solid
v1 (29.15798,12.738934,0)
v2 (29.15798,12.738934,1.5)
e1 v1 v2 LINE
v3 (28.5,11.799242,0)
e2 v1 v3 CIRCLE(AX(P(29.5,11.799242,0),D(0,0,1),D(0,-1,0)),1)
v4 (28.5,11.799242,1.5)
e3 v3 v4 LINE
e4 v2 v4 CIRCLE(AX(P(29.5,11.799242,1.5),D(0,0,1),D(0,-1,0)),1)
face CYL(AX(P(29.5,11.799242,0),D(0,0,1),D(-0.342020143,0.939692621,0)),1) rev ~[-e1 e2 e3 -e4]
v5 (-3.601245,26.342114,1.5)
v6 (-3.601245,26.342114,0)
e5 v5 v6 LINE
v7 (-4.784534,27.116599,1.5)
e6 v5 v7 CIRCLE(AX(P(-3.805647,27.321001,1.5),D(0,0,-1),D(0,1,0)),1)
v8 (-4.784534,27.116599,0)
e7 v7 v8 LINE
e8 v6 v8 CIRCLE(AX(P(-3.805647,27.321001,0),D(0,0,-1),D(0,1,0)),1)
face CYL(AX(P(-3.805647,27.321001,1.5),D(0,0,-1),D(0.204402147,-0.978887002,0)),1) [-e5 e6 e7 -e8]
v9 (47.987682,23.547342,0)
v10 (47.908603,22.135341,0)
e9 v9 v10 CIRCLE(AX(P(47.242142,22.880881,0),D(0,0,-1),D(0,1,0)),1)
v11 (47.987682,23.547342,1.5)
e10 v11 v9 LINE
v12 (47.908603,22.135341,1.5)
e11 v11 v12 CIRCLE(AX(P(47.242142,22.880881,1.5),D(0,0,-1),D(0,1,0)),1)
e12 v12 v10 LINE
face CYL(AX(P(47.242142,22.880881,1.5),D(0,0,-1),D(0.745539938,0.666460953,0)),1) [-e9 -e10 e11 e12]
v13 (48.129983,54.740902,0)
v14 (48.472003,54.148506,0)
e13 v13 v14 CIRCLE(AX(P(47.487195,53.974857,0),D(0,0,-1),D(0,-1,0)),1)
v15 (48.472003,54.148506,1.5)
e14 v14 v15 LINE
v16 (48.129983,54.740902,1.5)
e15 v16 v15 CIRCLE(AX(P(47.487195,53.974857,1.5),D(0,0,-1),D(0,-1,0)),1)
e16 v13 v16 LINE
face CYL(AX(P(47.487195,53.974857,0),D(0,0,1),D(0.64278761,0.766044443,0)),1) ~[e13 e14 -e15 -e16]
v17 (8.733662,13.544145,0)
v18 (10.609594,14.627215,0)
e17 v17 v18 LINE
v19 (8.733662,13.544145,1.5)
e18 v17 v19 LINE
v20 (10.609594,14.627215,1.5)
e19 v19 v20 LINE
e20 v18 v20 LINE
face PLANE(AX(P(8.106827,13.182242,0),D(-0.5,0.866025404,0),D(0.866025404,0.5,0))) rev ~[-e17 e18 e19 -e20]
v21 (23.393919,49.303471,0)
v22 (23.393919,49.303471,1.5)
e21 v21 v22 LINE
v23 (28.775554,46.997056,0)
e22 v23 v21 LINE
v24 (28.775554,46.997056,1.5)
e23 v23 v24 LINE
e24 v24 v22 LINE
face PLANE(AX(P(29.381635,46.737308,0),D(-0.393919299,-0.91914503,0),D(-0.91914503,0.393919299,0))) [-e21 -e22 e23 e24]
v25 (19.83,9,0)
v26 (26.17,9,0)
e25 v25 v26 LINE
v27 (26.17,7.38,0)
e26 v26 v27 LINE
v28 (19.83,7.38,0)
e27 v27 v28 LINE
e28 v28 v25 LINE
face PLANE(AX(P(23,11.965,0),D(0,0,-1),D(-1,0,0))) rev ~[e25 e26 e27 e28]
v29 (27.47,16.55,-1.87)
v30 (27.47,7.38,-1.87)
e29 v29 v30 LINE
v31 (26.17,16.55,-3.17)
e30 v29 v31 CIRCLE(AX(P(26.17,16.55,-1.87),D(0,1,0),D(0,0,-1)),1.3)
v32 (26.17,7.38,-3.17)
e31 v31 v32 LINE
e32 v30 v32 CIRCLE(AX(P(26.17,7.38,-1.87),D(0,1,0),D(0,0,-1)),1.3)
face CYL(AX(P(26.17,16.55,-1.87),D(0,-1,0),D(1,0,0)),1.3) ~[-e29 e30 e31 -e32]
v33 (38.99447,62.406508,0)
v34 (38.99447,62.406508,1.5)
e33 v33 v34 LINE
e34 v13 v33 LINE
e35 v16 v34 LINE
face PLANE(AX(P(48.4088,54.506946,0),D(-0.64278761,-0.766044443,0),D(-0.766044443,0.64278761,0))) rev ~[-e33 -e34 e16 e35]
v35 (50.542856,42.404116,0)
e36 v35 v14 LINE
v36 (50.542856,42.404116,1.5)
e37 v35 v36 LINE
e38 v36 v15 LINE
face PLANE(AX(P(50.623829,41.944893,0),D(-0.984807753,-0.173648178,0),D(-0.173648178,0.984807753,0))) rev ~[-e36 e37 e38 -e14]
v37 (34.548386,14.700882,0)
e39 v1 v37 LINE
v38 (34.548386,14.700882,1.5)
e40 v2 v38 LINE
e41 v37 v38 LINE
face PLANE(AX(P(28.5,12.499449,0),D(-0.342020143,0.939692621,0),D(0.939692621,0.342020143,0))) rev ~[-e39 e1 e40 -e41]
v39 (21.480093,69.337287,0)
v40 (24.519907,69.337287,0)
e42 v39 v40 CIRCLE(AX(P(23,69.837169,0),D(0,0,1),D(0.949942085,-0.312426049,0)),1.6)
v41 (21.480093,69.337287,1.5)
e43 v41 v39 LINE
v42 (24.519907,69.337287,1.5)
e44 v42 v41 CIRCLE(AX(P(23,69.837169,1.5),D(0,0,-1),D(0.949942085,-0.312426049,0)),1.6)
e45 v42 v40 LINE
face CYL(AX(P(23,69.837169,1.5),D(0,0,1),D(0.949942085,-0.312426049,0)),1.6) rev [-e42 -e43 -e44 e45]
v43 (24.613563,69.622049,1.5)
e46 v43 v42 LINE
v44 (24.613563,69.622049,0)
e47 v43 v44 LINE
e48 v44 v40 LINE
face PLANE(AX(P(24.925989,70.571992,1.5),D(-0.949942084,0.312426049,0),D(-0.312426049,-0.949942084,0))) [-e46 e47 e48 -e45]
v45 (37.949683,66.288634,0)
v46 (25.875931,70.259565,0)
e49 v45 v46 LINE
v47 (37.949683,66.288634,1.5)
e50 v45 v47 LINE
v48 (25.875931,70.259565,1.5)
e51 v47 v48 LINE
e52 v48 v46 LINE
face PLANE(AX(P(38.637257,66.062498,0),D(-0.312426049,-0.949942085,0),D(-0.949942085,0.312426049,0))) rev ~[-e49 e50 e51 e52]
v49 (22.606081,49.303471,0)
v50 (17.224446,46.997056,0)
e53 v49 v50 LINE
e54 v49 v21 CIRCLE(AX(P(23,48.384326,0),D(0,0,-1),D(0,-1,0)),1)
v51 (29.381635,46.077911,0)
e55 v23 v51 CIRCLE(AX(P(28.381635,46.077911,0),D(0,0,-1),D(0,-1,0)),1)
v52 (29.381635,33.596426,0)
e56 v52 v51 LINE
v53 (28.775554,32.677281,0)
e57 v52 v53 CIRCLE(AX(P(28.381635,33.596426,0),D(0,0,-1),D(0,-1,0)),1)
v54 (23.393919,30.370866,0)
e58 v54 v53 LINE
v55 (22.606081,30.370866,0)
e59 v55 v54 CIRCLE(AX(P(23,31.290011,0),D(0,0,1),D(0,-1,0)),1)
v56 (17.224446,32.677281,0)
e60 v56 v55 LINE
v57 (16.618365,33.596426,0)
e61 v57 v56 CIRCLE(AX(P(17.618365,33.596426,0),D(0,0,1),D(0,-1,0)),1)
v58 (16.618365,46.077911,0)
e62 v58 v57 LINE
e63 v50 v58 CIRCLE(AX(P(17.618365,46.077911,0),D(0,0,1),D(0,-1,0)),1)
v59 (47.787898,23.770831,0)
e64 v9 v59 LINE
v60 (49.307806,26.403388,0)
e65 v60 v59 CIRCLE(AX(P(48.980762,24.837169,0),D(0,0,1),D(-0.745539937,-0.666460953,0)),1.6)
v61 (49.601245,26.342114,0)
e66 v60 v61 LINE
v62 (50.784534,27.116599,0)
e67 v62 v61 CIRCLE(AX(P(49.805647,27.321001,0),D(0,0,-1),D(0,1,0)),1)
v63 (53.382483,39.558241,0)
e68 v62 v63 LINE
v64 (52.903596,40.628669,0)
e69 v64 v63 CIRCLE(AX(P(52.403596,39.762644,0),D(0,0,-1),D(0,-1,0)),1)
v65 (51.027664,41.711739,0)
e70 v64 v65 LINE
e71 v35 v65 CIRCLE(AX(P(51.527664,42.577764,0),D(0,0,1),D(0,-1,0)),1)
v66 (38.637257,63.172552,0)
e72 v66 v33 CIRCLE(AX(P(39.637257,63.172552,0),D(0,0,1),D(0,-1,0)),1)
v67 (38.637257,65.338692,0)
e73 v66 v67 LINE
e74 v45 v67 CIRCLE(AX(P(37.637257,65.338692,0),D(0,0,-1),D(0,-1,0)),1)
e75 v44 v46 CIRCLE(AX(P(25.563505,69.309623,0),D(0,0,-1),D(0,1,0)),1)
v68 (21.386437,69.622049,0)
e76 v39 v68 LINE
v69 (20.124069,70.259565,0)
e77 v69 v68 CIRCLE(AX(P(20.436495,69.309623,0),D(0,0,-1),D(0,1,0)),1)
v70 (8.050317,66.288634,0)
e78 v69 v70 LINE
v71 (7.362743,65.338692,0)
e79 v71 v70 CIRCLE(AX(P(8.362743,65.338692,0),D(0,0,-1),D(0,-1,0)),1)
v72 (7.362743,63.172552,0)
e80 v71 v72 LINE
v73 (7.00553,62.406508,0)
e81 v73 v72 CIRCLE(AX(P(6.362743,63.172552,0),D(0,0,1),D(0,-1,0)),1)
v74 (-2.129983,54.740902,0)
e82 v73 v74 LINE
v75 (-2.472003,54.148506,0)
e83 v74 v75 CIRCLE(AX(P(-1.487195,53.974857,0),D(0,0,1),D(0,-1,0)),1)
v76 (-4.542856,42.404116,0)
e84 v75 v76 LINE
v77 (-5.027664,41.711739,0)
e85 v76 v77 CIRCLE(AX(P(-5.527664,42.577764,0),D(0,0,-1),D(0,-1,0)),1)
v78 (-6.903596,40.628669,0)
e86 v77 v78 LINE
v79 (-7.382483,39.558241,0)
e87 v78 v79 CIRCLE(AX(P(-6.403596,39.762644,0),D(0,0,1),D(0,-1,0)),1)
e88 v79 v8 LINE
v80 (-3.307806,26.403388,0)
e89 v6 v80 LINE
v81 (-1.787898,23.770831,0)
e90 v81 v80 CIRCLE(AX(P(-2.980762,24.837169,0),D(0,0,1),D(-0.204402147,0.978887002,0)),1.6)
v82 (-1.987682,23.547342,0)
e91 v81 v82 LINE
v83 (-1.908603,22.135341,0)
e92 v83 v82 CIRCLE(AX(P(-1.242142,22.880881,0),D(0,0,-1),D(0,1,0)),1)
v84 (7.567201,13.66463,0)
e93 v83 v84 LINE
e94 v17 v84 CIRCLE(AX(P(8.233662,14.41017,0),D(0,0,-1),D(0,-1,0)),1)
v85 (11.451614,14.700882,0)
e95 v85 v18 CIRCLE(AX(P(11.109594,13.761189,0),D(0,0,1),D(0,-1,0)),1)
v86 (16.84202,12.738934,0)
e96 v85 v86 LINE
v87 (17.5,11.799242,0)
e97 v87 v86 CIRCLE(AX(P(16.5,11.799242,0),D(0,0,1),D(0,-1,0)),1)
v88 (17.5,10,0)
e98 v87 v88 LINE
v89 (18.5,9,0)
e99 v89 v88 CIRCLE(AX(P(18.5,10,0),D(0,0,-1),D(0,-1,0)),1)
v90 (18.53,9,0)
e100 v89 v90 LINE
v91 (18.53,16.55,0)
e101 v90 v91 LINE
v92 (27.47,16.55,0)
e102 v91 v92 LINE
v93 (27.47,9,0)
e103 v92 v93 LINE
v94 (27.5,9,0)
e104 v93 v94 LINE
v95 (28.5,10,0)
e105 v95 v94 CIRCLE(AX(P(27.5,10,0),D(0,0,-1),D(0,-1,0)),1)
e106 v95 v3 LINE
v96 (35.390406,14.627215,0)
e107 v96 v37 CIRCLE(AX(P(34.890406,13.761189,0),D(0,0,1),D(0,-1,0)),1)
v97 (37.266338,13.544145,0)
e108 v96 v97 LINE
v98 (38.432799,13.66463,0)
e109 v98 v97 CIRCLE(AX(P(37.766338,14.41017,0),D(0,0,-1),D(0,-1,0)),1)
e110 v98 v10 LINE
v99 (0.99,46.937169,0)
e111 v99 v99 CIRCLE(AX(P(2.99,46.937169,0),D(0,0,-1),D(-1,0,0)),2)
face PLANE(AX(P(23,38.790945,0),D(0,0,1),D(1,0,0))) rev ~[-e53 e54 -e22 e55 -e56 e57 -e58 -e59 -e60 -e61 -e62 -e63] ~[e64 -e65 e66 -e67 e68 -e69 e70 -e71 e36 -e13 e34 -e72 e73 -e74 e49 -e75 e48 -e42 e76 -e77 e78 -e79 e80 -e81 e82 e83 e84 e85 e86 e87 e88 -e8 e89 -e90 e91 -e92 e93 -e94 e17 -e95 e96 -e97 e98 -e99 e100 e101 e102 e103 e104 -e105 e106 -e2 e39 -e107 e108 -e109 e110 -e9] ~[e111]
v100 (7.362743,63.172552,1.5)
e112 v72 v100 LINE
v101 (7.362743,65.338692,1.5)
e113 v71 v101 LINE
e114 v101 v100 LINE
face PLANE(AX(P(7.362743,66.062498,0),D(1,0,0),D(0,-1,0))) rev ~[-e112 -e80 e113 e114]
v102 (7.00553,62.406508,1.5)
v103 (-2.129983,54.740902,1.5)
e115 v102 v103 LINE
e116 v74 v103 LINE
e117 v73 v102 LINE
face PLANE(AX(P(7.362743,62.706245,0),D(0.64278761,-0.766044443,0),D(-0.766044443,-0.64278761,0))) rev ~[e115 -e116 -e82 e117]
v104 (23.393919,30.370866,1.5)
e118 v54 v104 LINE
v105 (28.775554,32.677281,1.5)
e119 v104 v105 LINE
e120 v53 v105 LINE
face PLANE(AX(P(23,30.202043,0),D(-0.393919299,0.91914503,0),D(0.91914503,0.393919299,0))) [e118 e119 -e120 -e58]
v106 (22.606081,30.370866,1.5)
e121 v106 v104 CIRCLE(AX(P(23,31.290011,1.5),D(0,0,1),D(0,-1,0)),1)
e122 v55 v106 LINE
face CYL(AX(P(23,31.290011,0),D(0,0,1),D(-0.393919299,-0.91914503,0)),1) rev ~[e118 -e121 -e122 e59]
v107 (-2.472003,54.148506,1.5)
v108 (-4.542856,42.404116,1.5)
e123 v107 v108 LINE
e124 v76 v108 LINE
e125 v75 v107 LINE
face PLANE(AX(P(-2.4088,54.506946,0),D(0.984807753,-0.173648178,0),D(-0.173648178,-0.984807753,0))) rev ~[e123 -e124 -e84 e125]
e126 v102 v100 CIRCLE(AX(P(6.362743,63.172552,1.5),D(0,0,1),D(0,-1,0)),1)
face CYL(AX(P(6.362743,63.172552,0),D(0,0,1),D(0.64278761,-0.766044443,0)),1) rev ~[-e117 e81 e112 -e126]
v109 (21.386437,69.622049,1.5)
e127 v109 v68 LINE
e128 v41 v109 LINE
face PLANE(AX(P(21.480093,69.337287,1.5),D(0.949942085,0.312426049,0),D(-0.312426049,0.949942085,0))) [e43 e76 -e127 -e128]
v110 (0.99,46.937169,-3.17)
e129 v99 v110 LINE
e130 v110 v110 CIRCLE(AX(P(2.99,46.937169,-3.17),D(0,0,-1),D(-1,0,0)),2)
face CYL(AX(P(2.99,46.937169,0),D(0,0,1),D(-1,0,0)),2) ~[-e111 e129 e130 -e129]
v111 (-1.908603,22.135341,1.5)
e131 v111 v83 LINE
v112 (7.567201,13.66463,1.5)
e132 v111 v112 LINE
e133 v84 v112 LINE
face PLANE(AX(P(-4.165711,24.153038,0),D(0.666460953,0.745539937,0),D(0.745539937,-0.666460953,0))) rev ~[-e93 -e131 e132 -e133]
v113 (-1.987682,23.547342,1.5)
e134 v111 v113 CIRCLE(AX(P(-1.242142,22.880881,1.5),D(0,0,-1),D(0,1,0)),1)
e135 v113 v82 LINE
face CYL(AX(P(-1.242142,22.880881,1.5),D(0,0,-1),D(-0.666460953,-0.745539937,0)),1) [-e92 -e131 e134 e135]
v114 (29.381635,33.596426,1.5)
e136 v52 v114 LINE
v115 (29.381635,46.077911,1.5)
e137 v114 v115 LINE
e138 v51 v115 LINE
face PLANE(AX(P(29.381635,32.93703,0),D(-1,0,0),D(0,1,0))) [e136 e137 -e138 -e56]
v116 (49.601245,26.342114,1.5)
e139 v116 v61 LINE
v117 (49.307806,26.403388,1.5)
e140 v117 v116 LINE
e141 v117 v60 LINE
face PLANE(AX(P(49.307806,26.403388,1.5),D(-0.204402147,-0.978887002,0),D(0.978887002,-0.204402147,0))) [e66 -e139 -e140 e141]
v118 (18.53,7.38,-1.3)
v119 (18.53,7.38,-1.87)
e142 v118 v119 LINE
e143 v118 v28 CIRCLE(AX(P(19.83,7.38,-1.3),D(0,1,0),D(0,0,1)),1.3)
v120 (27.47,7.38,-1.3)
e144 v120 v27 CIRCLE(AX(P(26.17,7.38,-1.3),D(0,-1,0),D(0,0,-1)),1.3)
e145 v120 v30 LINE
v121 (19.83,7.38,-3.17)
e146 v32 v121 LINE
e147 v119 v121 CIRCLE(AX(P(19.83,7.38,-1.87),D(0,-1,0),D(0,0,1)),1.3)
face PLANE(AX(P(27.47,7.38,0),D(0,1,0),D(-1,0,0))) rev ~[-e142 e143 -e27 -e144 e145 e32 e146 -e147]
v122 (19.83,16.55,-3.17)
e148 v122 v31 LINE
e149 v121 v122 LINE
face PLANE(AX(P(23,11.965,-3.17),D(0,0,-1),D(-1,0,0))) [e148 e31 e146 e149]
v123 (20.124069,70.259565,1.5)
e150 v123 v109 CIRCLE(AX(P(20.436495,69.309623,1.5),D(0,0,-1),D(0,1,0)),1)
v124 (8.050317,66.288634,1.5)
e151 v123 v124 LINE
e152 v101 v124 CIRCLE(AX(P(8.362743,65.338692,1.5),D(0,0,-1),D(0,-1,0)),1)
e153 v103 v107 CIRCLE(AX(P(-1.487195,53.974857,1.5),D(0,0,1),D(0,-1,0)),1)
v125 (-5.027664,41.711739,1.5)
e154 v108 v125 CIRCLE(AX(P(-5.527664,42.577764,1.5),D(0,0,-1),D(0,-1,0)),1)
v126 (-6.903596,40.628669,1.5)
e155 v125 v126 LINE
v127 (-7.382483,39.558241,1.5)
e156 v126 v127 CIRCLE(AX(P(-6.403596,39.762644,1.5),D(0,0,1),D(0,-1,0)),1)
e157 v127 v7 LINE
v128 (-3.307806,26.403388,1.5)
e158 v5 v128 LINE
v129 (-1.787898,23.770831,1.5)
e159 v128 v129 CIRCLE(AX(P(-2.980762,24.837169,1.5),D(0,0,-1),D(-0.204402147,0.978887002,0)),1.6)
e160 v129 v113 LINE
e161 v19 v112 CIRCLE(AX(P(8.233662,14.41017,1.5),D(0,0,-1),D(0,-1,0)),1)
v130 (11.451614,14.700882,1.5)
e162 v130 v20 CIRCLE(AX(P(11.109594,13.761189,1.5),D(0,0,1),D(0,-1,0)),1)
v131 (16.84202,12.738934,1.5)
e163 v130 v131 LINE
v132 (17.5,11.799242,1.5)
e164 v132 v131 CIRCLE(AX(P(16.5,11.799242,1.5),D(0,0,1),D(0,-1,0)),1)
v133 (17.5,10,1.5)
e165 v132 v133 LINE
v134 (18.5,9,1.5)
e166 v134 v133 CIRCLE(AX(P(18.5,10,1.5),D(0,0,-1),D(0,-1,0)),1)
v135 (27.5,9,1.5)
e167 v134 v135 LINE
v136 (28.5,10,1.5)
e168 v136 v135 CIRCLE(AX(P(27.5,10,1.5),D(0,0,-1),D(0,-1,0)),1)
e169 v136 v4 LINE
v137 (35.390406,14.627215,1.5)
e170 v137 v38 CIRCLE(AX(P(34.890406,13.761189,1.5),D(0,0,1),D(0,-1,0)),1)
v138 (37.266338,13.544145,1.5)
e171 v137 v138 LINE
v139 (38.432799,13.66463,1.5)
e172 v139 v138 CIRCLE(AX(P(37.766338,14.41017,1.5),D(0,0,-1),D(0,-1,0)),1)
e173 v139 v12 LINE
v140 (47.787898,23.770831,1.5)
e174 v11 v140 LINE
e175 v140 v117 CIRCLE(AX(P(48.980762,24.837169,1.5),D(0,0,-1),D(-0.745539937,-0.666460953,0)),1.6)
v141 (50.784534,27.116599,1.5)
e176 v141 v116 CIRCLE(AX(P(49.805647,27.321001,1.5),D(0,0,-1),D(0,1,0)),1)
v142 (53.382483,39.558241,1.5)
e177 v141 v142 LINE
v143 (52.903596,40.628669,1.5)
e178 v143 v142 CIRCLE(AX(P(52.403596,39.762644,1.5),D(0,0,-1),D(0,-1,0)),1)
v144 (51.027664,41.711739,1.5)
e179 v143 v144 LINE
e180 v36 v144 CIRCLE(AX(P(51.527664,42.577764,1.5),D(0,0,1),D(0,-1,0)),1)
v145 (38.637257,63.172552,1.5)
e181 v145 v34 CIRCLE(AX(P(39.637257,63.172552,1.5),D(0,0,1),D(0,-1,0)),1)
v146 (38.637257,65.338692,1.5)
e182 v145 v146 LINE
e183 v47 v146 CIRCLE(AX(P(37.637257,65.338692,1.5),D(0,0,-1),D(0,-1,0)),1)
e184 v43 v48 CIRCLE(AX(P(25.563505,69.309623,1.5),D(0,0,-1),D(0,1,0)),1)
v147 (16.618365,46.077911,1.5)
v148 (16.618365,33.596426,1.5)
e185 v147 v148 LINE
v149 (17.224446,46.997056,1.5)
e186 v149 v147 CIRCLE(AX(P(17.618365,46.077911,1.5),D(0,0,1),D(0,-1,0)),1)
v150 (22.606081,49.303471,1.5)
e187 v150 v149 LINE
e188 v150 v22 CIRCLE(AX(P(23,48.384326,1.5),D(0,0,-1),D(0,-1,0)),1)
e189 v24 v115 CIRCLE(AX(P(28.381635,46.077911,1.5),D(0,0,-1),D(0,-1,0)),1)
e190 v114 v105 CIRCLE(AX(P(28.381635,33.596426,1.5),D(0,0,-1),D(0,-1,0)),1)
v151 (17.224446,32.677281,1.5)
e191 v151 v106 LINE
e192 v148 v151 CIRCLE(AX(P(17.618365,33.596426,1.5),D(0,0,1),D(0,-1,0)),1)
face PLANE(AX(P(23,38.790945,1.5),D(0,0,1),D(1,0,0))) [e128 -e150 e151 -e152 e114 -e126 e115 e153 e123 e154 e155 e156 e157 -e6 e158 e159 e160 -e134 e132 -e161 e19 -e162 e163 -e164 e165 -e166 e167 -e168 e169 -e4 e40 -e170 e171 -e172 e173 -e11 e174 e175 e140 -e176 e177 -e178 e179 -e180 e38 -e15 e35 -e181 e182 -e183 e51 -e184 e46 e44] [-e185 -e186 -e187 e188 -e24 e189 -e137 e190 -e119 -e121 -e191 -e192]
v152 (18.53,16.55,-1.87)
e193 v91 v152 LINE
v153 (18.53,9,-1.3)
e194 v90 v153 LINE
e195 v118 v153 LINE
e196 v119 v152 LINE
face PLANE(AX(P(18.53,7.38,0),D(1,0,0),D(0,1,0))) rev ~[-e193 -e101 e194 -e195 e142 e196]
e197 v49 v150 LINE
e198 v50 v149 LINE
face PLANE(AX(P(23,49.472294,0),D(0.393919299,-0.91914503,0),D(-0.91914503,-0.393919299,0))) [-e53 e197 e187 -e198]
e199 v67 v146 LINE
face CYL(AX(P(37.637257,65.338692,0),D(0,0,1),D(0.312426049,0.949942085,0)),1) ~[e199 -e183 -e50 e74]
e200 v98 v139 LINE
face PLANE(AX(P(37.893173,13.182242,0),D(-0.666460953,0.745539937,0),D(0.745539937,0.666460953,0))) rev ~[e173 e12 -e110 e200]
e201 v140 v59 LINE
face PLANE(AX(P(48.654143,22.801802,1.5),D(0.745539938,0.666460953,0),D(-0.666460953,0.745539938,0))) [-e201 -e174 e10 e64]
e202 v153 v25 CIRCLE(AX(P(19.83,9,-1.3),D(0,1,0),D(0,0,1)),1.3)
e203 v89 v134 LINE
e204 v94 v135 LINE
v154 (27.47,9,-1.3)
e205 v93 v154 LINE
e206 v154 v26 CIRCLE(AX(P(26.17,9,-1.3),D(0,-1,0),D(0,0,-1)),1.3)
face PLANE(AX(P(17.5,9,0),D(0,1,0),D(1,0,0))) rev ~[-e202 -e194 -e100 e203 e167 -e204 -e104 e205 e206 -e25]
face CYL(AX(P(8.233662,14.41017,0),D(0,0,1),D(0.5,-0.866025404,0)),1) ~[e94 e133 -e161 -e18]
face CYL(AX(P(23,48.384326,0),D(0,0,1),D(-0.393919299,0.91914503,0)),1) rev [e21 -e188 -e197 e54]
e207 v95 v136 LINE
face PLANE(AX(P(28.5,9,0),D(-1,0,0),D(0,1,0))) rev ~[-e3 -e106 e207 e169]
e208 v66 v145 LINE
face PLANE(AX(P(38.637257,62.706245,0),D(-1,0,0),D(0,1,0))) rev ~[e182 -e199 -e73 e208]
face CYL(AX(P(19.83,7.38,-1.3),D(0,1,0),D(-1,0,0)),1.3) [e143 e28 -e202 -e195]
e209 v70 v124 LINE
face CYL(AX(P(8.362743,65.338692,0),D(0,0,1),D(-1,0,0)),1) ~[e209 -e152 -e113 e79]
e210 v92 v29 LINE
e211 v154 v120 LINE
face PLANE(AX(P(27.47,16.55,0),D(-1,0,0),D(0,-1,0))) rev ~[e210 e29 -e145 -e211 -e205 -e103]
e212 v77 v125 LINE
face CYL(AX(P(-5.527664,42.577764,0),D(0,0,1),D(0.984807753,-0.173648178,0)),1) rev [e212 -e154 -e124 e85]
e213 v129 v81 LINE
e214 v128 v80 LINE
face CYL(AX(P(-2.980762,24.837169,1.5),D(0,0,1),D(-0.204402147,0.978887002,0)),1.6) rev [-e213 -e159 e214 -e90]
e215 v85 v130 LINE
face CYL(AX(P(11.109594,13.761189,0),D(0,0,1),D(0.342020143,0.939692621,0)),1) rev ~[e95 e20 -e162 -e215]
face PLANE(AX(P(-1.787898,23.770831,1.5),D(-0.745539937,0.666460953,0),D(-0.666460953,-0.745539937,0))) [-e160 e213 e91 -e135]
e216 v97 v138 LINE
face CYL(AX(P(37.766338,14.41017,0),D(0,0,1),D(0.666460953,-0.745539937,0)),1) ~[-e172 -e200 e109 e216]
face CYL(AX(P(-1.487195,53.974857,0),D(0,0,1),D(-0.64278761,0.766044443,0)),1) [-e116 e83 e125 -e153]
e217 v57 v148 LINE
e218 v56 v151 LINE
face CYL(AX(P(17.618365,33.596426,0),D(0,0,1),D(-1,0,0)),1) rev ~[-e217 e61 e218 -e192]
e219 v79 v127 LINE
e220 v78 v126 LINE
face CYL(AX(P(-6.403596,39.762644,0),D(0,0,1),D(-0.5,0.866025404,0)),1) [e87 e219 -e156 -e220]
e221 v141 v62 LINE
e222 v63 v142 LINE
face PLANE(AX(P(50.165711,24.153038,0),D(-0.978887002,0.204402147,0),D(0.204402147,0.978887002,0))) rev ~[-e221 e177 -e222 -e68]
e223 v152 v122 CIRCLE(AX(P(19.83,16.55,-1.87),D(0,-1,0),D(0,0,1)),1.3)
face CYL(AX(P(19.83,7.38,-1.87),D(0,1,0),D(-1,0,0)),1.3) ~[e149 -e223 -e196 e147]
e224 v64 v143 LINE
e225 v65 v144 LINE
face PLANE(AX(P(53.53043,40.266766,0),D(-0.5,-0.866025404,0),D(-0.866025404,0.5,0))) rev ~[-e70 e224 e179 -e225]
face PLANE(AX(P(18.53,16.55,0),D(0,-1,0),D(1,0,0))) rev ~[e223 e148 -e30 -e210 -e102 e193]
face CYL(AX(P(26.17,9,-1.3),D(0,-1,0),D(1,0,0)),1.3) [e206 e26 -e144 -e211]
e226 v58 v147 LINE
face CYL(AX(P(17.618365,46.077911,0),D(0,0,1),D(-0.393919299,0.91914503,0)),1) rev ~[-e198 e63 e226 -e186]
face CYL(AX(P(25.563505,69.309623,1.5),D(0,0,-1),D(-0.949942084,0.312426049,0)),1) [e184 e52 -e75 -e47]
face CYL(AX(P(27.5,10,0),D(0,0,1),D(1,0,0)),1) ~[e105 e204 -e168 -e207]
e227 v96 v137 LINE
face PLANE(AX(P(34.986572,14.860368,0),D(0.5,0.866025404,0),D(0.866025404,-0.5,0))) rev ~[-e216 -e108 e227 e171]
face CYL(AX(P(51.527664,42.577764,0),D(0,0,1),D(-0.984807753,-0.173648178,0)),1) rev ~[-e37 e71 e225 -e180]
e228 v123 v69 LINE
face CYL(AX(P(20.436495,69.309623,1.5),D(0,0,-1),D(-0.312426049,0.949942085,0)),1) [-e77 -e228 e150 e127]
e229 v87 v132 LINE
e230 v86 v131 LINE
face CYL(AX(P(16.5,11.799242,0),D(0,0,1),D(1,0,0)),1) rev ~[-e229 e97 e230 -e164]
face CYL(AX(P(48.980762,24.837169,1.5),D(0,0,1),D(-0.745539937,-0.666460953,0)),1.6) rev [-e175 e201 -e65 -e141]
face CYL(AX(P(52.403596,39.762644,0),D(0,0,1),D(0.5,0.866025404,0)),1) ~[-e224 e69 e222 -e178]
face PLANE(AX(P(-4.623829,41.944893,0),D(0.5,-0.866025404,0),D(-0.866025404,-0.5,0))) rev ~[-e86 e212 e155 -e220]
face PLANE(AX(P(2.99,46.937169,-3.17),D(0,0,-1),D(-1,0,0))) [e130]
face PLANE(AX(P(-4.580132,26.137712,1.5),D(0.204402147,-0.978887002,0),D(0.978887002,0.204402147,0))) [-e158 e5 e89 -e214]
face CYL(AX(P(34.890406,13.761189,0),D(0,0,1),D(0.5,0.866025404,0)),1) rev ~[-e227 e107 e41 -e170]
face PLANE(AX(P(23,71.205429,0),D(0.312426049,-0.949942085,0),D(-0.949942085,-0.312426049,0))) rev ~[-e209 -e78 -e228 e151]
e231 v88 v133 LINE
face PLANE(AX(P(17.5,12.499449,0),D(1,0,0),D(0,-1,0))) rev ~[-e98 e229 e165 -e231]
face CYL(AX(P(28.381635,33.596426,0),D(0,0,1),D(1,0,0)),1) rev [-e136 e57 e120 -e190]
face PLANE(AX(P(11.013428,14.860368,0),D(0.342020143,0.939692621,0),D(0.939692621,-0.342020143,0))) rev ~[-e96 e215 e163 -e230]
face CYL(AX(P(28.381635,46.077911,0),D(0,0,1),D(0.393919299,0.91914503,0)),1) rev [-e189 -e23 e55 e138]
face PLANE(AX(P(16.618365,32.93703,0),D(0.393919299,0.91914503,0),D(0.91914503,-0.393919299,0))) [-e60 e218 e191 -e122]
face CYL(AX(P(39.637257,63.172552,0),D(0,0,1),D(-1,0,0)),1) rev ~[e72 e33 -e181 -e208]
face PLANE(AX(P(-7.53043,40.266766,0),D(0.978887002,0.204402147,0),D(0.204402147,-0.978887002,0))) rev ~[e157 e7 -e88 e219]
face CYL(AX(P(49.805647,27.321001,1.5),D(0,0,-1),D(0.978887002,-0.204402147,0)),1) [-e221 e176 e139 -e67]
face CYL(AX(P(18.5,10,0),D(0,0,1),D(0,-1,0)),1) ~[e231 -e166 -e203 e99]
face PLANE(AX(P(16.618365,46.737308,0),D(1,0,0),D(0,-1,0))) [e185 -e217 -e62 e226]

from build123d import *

# Parameters (mm, degrees)
BOSS_EXTRUDE1_DEPTH = 1.5
CUT_EXTRUDE1_DEPTH  = 2.5
CIRPATTERN1_COUNT   = 3
FILLET1_R           = 1
BOSS_EXTRUDE2_DEPTH = 3.17
FILLET2_R           = 1.3
SKETCH5_R           = 2
BOSS_EXTRUDE3_DEPTH = 3.17


with BuildPart() as part:
    # Sketch1 → Boss-Extrude1 (new body)
    with BuildSketch(Plane.XY):
        Polygon((7.362742618, 62.70624455), (-2.408800458, 54.506946358), (-4.623829447, 41.944892725), (-7.530430409, 40.266765877), (-4.165710563, 24.153038268), (8.106826973, 13.1822416), (11.013427935, 14.860368448), (17.5, 12.499449294), (17.5, 9), (28.5, 9), (28.5, 12.499449294), (34.986572065, 14.860368448), (37.893173027, 13.1822416), (50.165710563, 24.153038268), (53.530430409, 40.266765877), (50.623829447, 41.944892725), (48.408800458, 54.506946358), (38.637257382, 62.70624455), (38.637257382, 66.062498246), (23, 71.205429186), (7.362742618, 66.062498246), align=None)
        Polygon((23, 49.472293945), (16.618365096, 46.737307558), (16.618365096, 32.93702959), (23, 30.202043203), (29.381634904, 32.93702959), (29.381634904, 46.737307558), align=None, mode=Mode.SUBTRACT)
    extrude(amount=BOSS_EXTRUDE1_DEPTH)

    # Sketch2 → Cut-Extrude1 (cut, through all)
    with BuildSketch(Plane.XY.offset(1.5)):
        with BuildLine():
            Line((-4.580131881, 26.137712338), (-3.307805549, 26.403387777))
            ThreePointArc((-3.307805549, 26.403387777), (-1.595121467, 25.637168574), (-1.787898214, 23.770831049))
            Line((-1.787898214, 23.770831049), (-2.654143059, 22.801801844))
            Line((-2.654143059, 22.801801844), (-4.165710563, 24.153038268))
            Line((-4.165710563, 24.153038268), (-4.580131881, 26.137712338))
        make_face()
    cut_extrude1 = extrude(amount=-CUT_EXTRUDE1_DEPTH, mode=Mode.SUBTRACT)

    # CirPattern1: Cut-Extrude1 ×3 about axis
    cirpattern1_axis = Axis((23, 39.837168574, 0), (0, 0, 1))
    for i in range(1, CIRPATTERN1_COUNT):
        add(cut_extrude1.rotate(cirpattern1_axis, i * 360 / CIRPATTERN1_COUNT), mode=Mode.SUBTRACT)

    # Fillet1
    fillet1_edges = [part.edges().sort_by_distance(p)[0] for p in [
        (48.654143059, 22.801801844, 0.75),
        (50.580131881, 26.137712338, 0.75),
        (24.925988822, 70.571991541, 0.75),
        (21.074011178, 70.571991541, 0.75),
        (7.362742618, 66.062498246, 0.75),
        (38.637257382, 66.062498246, 0.75),
        (38.637257382, 62.70624455, 0.75),
        (48.408800458, 54.506946358, 0.75),
        (50.623829447, 41.944892725, 0.75),
        (53.530430409, 40.266765877, 0.75),
        (37.893173027, 13.1822416, 0.75),
        (34.986572065, 14.860368448, 0.75),
        (28.5, 12.499449294, 0.75),
        (28.5, 9, 0.75),
        (17.5, 9, 0.75),
        (17.5, 12.499449294, 0.75),
        (11.013427935, 14.860368448, 0.75),
        (8.106826973, 13.1822416, 0.75),
        (-7.530430409, 40.266765877, 0.75),
        (-4.623829447, 41.944892725, 0.75),
        (-2.408800458, 54.506946358, 0.75),
        (7.362742618, 62.70624455, 0.75),
        (16.618365096, 32.93702959, 0.75),
        (23, 30.202043203, 0.75),
        (29.381634904, 32.93702959, 0.75),
        (29.381634904, 46.737307558, 0.75),
        (23, 49.472293945, 0.75),
        (16.618365096, 46.737307558, 0.75),
        (-4.580131881, 26.137712338, 0.75),
        (-2.654143059, 22.801801844, 0.75),
    ]]
    fillet(fillet1_edges, radius=FILLET1_R)

    # Sketch4 → Boss-Extrude2 (add)
    with BuildSketch(Plane(origin=(0, 0, 0), x_dir=(-1, 0, 0), z_dir=(0, 0, -1))):
        Polygon((-27.47, 9), (-27.47, 7.38), (-18.53, 7.38), (-18.53, 9), (-18.53, 16.55), (-27.47, 16.55), align=None)
    extrude(amount=BOSS_EXTRUDE2_DEPTH)

    # Fillet2
    fillet2_edges = [part.edges().sort_by_distance(p)[0] for p in [
        (27.47, 8.19, 0),
        (18.53, 8.19, 0),
        (27.47, 11.965, -3.17),
        (18.53, 11.965, -3.17),
    ]]
    fillet(fillet2_edges, radius=FILLET2_R)

    # Sketch5 → Boss-Extrude3 (add)
    with BuildSketch(Plane(origin=(0, 0, 0), x_dir=(-1, 0, 0), z_dir=(0, 0, -1))):
        with Locations((-2.99, 46.937168574)):
            Circle(SKETCH5_R)
    extrude(amount=BOSS_EXTRUDE3_DEPTH)


solid = part.part
